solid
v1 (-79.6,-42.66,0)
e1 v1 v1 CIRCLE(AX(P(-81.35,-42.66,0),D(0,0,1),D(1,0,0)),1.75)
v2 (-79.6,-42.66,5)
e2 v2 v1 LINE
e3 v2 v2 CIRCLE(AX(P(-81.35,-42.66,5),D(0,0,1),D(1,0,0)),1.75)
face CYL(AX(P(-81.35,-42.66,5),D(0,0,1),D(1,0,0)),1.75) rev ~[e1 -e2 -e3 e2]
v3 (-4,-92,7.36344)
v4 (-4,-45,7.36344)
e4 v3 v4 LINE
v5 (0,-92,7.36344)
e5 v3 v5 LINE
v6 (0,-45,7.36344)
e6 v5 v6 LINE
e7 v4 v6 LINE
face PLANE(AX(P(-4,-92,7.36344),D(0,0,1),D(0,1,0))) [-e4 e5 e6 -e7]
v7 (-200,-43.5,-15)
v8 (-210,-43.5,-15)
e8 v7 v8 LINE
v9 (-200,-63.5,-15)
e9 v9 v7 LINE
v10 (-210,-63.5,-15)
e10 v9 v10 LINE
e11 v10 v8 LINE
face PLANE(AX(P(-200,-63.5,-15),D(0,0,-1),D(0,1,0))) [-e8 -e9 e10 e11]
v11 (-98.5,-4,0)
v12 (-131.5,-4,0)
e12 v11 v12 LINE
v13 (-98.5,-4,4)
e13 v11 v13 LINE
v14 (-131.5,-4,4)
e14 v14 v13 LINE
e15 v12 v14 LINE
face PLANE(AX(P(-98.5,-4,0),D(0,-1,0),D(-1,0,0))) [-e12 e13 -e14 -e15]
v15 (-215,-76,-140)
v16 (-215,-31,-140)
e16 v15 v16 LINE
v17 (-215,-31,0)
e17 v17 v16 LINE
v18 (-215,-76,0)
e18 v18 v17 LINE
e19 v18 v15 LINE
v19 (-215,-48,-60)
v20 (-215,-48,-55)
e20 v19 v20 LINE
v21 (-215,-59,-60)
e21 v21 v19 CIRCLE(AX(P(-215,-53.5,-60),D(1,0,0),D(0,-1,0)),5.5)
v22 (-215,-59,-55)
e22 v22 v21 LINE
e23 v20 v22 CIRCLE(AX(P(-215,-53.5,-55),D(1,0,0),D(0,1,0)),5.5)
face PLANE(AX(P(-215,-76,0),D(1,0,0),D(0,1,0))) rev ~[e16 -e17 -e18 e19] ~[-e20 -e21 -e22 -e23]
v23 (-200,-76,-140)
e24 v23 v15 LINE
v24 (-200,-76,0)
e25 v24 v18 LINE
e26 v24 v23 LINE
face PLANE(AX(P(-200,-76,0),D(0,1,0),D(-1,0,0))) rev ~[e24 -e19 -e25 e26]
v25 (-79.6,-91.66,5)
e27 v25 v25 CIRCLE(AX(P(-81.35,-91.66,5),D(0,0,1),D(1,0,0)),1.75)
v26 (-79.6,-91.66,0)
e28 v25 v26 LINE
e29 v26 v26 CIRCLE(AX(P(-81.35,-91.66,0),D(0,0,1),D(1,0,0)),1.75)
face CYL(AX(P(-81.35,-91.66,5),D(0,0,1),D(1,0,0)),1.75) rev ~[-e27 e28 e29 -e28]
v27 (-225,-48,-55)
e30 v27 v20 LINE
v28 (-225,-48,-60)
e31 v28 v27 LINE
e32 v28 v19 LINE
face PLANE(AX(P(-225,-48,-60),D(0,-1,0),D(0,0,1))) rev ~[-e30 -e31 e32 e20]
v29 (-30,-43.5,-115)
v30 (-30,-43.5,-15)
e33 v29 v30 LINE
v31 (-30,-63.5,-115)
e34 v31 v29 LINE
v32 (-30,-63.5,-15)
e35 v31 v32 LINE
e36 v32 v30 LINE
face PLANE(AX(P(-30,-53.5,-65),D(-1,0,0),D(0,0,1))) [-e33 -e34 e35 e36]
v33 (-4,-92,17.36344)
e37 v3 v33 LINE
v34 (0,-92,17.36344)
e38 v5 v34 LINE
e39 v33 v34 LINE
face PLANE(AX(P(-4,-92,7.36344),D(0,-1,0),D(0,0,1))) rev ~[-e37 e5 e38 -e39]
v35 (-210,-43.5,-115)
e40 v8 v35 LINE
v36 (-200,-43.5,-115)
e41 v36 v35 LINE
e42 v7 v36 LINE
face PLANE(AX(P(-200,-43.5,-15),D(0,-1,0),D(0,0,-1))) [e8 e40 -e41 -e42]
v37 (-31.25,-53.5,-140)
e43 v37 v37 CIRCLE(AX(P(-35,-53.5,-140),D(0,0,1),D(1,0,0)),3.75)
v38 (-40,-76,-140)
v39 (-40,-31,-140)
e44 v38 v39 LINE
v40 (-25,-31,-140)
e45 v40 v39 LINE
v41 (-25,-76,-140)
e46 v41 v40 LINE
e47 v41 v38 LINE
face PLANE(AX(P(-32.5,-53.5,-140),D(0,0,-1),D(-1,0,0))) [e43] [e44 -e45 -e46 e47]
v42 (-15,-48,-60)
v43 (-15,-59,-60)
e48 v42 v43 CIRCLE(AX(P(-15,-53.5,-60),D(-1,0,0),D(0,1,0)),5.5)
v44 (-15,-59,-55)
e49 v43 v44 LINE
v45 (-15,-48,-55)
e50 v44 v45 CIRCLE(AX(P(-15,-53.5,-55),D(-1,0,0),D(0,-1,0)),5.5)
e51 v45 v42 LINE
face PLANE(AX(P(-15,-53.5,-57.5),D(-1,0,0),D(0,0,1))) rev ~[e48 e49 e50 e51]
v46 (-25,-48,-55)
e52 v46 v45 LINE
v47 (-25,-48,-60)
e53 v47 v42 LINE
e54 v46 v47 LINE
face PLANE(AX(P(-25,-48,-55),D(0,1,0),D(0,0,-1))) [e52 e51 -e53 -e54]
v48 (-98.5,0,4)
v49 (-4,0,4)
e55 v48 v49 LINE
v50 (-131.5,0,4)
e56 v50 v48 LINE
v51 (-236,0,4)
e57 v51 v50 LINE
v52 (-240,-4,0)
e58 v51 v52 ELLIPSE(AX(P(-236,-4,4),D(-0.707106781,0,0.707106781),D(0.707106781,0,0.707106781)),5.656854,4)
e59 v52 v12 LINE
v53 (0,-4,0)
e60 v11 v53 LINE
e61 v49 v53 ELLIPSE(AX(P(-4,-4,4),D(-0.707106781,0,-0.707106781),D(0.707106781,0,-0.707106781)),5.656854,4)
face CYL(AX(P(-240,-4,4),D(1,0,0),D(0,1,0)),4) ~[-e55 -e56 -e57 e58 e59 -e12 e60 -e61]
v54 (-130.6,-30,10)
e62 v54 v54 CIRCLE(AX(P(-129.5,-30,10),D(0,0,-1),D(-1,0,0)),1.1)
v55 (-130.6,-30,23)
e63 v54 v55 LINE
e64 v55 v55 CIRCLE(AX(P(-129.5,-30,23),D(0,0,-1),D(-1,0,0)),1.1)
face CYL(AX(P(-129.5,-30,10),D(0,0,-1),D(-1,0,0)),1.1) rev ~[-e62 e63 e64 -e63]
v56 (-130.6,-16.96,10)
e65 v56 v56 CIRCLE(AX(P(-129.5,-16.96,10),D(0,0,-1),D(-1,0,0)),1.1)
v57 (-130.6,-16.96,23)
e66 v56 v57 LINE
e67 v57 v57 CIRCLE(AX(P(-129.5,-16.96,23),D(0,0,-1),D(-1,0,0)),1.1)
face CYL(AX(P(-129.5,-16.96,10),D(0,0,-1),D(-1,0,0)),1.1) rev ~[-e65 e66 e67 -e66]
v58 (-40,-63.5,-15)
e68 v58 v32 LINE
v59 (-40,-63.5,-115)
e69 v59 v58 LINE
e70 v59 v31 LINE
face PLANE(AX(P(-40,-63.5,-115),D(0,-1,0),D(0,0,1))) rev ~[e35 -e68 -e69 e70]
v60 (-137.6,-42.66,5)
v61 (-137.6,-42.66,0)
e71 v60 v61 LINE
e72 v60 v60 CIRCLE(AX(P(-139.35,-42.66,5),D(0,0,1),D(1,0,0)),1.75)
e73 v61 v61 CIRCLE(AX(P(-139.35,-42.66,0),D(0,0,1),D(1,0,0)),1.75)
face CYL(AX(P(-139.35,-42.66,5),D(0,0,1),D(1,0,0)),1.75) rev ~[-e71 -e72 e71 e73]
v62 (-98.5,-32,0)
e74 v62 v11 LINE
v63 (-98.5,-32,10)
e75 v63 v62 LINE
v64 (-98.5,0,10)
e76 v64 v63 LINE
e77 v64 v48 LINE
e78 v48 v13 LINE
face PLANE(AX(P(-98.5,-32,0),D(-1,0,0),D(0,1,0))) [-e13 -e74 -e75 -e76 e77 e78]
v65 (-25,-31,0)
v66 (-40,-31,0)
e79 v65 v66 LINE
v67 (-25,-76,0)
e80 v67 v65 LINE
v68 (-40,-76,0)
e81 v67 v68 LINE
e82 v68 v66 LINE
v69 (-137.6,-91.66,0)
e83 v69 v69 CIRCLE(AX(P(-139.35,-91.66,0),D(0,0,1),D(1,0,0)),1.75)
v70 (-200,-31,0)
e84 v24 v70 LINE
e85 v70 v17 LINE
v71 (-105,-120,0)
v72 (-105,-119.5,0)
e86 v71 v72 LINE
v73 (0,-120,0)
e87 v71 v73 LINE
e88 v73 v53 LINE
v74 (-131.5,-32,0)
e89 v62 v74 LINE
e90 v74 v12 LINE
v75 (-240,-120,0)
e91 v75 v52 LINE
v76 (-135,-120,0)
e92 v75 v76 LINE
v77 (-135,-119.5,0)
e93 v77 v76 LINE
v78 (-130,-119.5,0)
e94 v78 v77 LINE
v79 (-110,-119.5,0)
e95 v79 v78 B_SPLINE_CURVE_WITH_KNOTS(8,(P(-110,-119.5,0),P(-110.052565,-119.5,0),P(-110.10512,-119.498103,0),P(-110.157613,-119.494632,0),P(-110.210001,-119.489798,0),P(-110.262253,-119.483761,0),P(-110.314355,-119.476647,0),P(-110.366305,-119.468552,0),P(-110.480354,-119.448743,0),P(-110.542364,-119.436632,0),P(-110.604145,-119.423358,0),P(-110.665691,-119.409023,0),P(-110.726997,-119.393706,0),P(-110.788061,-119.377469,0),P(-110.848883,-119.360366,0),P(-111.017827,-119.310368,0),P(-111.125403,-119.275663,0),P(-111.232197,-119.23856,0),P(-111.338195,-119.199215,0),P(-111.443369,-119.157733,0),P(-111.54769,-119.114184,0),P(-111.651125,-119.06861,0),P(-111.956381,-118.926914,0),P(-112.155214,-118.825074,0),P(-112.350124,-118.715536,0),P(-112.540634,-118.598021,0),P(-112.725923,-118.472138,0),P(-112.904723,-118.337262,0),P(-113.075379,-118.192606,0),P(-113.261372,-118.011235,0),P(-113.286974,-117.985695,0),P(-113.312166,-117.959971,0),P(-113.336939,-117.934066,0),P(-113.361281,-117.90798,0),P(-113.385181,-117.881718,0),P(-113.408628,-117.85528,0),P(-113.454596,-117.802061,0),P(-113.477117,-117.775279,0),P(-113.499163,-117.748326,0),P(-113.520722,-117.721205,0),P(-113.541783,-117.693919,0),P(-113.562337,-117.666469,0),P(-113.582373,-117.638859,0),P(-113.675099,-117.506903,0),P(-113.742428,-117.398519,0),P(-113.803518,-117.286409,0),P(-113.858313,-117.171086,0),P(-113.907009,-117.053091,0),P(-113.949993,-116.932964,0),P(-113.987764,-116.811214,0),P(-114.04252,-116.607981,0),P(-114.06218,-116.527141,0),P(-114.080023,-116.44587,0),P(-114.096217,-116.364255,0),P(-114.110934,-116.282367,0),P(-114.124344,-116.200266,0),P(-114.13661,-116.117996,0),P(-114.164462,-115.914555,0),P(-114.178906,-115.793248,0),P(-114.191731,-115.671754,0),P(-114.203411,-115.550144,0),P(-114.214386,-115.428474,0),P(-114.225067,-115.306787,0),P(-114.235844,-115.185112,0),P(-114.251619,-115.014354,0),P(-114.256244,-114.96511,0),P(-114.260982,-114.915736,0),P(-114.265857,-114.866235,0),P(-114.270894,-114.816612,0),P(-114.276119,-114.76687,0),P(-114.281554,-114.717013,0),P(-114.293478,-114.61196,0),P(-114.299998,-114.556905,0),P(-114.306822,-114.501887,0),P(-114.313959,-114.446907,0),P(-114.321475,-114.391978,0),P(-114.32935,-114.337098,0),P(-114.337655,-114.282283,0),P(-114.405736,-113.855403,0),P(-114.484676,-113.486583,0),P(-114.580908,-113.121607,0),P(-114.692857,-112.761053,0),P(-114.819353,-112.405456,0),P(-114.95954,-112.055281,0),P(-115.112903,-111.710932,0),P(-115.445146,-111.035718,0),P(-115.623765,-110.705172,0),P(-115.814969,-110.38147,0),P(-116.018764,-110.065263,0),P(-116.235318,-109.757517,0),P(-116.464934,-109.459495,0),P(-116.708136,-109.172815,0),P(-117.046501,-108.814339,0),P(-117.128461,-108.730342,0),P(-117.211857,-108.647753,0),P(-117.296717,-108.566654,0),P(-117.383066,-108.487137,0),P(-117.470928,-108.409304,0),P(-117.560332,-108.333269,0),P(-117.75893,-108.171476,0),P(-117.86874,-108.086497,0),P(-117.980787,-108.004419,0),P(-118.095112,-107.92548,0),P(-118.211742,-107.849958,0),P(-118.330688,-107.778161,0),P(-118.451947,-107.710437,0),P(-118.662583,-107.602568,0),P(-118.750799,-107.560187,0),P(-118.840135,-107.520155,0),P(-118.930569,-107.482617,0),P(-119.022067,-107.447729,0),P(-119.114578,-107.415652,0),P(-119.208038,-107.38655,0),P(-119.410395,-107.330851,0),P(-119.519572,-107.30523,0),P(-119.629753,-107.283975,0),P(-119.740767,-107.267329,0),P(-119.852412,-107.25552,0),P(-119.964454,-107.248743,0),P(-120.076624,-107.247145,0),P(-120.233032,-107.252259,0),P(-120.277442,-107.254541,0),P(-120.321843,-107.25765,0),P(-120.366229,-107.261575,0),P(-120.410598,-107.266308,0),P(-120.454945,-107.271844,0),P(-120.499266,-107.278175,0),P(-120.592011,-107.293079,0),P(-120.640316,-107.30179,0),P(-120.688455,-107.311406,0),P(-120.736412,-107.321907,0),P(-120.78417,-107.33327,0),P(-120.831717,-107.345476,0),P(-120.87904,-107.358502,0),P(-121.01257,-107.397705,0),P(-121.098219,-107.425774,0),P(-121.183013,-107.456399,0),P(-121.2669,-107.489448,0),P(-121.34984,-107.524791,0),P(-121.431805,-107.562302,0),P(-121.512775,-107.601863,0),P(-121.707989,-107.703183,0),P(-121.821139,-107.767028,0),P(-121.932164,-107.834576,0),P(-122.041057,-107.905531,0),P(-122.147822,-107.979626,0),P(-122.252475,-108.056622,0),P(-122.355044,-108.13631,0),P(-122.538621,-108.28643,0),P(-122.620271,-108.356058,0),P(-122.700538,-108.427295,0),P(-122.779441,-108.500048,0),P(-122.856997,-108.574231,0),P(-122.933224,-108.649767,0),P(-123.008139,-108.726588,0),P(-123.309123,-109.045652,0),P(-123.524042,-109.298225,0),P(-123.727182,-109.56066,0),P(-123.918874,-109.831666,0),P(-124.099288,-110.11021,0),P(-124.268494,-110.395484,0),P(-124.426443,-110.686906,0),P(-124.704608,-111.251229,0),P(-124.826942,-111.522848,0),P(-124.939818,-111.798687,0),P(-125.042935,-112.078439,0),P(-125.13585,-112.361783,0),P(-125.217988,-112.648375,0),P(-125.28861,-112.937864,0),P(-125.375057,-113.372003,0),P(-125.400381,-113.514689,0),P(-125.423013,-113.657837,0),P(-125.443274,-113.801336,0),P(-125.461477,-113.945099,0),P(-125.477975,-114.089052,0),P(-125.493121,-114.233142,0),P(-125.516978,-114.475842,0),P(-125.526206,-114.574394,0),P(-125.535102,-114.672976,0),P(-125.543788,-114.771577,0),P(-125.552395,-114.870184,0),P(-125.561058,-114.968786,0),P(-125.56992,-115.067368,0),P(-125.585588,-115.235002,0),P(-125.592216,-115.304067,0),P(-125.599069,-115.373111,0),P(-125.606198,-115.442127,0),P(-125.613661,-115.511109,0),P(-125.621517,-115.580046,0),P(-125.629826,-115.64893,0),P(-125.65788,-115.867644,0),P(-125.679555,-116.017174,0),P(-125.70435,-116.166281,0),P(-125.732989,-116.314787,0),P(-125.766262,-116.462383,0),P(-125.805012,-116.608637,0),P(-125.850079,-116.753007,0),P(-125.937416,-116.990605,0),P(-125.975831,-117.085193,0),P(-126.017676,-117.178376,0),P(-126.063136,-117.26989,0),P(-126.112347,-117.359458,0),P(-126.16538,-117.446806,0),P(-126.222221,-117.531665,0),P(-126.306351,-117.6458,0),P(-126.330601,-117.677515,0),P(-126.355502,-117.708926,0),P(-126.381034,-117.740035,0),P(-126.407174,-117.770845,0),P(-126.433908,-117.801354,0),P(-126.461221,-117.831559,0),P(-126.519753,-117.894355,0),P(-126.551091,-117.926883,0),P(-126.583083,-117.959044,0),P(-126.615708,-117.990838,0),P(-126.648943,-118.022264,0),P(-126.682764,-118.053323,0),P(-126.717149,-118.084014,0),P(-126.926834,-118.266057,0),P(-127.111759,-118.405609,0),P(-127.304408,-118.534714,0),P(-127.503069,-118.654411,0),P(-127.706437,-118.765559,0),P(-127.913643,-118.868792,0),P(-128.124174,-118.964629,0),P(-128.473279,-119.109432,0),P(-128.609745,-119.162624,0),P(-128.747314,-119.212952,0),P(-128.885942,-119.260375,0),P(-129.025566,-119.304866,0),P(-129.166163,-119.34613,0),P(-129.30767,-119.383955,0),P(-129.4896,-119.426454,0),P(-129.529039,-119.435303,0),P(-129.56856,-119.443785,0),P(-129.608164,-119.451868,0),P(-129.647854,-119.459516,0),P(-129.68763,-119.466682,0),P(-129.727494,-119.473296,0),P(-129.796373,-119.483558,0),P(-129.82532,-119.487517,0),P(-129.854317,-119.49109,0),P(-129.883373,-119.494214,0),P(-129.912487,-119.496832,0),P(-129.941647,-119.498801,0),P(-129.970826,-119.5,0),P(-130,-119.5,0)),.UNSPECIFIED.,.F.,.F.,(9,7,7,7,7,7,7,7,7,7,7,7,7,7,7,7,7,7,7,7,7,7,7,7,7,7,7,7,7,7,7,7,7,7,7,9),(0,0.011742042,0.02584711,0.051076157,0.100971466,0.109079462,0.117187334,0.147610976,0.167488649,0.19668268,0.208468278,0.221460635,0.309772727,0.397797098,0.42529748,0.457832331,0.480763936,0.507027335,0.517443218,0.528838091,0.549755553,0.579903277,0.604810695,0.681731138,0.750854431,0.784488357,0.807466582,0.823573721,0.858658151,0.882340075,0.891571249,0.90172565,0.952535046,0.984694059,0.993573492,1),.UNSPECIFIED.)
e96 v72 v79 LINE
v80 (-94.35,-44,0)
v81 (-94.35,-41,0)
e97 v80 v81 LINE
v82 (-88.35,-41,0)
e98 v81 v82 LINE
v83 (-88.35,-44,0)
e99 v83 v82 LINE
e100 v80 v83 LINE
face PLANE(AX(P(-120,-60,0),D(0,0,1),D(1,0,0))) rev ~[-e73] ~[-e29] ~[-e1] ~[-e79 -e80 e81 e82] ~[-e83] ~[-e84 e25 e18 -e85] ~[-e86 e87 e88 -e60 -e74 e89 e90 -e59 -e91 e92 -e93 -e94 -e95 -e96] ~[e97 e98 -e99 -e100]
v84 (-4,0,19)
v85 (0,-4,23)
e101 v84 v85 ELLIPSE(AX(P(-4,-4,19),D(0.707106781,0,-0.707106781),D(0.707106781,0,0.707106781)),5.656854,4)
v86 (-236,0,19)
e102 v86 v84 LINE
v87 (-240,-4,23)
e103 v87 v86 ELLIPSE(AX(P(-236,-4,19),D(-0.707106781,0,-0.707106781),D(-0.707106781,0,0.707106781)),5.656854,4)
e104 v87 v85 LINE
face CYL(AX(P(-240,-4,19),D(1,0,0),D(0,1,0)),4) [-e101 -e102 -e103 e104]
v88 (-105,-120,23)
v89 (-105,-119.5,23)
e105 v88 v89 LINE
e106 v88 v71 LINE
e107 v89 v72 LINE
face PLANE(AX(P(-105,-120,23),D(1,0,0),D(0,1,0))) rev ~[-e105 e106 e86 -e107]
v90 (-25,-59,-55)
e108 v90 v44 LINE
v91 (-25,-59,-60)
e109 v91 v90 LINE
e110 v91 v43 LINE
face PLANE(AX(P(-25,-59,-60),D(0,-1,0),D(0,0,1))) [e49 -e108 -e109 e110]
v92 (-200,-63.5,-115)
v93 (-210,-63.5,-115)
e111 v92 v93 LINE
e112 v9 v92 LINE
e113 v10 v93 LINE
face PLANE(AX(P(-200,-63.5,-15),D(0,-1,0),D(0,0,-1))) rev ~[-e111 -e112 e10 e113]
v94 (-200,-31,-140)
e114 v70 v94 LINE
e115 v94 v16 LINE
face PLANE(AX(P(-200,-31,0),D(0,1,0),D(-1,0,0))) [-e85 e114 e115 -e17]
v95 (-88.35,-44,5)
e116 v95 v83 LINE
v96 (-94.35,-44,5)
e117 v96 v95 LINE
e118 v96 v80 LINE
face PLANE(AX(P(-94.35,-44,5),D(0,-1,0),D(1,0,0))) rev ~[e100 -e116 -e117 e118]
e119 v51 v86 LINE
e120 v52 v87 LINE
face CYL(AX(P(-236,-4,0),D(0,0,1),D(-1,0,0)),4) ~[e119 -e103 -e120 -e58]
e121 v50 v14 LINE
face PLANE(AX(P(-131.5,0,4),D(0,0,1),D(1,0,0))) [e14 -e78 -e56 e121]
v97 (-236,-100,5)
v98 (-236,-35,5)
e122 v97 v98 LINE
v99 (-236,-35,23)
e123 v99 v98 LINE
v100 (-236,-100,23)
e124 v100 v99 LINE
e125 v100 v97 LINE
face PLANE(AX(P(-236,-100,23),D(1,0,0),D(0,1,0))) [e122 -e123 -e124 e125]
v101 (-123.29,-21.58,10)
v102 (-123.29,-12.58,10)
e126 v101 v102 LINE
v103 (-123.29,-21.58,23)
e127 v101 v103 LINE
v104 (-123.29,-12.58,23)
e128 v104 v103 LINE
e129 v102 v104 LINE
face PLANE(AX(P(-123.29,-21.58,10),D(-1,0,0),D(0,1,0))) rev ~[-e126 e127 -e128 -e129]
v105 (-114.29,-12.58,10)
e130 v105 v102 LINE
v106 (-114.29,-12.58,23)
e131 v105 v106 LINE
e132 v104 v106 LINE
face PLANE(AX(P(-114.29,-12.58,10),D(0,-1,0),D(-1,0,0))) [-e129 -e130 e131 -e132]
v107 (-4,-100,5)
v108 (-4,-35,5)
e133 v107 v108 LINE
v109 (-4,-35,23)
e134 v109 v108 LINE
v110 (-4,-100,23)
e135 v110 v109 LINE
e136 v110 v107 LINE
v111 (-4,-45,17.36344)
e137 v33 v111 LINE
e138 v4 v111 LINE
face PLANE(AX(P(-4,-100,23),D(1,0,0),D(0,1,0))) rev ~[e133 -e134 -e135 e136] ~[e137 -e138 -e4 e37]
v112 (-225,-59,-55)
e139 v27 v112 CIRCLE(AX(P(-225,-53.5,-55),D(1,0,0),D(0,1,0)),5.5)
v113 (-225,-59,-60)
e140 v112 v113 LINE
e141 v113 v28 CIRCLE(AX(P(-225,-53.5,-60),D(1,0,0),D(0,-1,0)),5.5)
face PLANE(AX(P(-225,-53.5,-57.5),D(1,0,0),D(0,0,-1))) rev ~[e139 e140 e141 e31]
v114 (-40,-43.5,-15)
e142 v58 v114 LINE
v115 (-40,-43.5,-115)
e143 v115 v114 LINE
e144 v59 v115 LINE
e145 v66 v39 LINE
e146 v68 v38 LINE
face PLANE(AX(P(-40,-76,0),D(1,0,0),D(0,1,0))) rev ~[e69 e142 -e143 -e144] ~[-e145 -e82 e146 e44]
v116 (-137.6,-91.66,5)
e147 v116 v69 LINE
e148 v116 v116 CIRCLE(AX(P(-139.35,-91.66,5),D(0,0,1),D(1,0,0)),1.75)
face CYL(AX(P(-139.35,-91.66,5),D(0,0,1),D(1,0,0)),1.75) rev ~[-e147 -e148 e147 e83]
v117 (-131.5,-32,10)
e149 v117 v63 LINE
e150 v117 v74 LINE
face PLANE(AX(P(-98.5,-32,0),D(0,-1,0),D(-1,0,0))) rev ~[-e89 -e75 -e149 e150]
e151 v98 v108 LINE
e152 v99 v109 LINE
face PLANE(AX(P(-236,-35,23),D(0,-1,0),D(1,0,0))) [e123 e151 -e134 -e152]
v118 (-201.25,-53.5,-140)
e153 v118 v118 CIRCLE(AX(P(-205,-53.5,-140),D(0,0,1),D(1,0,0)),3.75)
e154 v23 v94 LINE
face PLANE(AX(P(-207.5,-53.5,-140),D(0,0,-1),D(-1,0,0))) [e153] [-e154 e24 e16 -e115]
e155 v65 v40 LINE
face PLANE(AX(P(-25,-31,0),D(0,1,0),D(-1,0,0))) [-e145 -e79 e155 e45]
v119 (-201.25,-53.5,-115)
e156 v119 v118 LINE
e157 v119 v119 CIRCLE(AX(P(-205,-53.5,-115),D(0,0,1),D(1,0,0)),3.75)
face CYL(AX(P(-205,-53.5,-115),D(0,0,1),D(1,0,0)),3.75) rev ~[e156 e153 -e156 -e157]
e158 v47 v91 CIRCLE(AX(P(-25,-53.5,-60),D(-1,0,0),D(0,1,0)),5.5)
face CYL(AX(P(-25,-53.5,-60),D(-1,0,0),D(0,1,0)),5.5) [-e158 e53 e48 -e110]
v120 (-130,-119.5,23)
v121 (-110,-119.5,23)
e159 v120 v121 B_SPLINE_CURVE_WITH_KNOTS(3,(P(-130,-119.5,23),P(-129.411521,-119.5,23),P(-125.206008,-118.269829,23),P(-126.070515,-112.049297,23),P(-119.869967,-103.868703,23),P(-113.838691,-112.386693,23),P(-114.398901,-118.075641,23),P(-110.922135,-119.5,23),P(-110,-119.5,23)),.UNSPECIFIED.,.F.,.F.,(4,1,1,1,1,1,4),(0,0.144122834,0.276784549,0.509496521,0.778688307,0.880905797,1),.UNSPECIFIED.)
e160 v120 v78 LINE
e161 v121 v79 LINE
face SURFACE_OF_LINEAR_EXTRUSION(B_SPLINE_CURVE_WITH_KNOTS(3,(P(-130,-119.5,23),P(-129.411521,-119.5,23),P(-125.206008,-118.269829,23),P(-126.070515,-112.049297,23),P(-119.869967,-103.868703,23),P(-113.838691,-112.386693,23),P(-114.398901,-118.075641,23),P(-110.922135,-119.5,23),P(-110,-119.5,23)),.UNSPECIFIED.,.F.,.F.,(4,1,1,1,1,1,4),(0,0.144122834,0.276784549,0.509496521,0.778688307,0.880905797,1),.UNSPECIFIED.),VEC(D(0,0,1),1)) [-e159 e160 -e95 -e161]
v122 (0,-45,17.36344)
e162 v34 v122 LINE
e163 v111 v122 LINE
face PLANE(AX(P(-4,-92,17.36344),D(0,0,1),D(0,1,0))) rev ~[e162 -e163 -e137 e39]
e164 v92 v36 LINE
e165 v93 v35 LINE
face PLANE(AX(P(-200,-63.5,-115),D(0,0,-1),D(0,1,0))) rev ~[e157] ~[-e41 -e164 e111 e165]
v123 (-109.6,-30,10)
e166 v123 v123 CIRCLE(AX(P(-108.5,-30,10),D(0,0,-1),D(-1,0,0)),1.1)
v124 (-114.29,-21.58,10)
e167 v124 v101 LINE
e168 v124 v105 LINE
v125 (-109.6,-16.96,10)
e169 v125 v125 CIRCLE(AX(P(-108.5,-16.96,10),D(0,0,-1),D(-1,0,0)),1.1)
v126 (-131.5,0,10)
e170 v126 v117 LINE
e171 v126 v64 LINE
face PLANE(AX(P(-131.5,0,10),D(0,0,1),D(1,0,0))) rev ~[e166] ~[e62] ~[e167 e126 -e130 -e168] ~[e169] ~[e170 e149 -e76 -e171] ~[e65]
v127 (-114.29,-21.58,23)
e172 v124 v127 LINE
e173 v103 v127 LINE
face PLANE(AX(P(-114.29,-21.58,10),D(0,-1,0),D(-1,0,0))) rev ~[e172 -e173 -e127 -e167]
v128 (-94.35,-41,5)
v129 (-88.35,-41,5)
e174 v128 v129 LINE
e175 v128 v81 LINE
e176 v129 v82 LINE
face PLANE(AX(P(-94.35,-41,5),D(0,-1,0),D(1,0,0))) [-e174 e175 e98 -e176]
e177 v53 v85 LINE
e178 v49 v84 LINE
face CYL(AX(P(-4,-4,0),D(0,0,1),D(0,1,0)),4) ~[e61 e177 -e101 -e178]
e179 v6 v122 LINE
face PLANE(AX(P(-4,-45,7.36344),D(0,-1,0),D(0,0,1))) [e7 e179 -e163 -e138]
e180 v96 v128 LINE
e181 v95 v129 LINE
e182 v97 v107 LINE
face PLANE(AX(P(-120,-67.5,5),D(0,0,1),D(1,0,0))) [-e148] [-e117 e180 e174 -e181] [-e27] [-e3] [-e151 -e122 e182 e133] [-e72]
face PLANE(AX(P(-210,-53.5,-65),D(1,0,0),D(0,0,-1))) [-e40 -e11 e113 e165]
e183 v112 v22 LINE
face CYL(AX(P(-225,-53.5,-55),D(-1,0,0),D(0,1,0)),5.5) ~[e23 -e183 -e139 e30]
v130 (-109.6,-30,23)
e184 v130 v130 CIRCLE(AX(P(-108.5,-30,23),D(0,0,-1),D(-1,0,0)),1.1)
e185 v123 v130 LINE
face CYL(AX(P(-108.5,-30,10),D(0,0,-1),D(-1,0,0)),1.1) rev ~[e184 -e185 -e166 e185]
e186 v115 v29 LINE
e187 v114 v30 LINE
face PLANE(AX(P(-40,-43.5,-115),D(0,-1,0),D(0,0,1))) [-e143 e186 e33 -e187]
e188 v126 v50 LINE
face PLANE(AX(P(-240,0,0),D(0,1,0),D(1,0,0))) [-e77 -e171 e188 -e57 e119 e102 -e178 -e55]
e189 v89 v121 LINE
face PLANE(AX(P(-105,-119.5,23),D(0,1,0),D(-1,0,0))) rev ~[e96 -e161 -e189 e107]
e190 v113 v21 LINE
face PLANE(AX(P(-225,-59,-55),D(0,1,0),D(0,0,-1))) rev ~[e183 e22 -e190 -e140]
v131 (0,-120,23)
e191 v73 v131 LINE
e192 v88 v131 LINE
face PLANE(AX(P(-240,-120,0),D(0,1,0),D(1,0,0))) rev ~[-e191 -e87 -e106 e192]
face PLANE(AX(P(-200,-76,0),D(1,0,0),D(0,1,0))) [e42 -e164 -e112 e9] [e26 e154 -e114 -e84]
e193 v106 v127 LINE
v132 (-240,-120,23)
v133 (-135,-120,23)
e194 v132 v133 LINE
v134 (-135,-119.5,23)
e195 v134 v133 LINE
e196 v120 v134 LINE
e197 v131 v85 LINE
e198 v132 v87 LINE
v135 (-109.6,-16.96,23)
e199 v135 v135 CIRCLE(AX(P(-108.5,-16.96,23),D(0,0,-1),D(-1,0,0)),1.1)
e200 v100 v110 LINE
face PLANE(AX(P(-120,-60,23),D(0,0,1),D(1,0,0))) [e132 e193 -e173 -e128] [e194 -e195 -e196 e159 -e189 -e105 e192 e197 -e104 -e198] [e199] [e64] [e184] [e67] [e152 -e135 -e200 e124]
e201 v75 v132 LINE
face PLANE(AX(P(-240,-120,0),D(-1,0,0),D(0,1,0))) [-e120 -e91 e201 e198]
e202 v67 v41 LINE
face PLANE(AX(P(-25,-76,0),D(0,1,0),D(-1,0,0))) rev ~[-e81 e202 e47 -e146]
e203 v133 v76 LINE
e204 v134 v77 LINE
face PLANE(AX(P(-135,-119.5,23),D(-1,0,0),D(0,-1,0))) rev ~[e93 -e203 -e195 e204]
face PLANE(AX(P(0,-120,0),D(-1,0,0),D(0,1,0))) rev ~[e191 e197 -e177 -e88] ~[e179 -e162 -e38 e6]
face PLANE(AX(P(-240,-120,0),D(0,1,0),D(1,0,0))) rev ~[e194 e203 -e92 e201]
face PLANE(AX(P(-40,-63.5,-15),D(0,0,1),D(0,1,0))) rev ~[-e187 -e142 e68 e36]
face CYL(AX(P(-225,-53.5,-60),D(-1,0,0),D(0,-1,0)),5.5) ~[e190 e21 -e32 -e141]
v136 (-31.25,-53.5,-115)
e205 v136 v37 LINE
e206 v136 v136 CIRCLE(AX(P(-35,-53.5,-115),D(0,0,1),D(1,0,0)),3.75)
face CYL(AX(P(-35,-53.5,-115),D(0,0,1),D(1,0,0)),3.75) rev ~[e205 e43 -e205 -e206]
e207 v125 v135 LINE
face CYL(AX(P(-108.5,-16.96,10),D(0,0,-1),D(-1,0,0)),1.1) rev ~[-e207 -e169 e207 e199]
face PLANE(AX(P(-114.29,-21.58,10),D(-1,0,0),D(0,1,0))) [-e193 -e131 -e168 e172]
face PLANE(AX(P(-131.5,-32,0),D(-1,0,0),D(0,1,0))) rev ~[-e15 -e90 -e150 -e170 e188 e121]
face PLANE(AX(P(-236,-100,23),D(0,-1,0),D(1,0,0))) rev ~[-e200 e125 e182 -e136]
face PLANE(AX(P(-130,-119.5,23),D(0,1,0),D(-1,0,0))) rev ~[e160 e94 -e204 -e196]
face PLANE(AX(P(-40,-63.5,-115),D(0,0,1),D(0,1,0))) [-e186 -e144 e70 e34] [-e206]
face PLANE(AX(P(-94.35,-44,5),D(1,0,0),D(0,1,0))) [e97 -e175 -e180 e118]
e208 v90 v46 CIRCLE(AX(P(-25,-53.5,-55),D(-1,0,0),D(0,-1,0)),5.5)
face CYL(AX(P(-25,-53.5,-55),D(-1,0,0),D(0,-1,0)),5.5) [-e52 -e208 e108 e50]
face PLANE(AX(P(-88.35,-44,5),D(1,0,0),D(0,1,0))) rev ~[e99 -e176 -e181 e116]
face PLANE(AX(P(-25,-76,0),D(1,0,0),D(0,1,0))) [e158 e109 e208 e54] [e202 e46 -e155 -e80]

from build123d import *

# Parameters (mm, degrees)
ESQUISSE1_W              = 240
ESQUISSE1_H              = 120
BOSS_EXTRU_1_DEPTH       = 23
ESQUISSE2_W              = 232
ESQUISSE2_H              = 65
ENL_V_MAT_EXTRU_1_DEPTH  = 18
CONG_1_R                 = 4
ESQUISSE7_R              = 1.75
ENL_V_MAT_EXTRU_3_DEPTH  = 10
ESQUISSE14_W             = 10
ESQUISSE14_H             = 47
ENL_V_MAT_EXTRU_9_DEPTH  = 43
ESQUISSE17_W             = 33
ESQUISSE17_H             = 6
ENL_V_MAT_EXTRU_11_DEPTH = 32
ESQUISSE18_W             = 33
ESQUISSE18_H             = 28
ENL_V_MAT_EXTRU_12_DEPTH = 7
ESQUISSE19_W             = 15
ESQUISSE19_H             = 45
BOSS_EXTRU_2_DEPTH       = 140
ESQUISSE20_W             = 100
ESQUISSE20_H             = 20
ENL_V_MAT_EXTRU_13_DEPTH = 10
ESQUISSE21_R             = 3.75
ENL_V_MAT_EXTRU_14_DEPTH = 40
ESQUISSE22_W             = 100
ESQUISSE22_H             = 20
ENL_V_MAT_EXTRU_15_DEPTH = 10
ESQUISSE23_R             = 3.75
ENL_V_MAT_EXTRU_16_DEPTH = 40
BOSS_EXTRU_3_DEPTH       = 10
BOSS_EXTRU_4_START       = 10
BOSS_EXTRU_4_DEPTH       = 10
ESQUISSE30_R             = 1.1
ESQUISSE30_W             = 9
ESQUISSE30_H             = 9
ENL_V_MAT_EXTRU_22_DEPTH = 30
ESQUISSE31_W             = 6
ESQUISSE31_H             = 3
ENL_V_MAT_EXTRU_23_DEPTH = 10
ENL_V_MAT_EXTRU_24_DEPTH = 40


with BuildPart() as part:
    # Esquisse1 → Boss.-Extru.1 (new body)
    with BuildSketch(Plane.XY):
        with Locations((-120, -60)):
            Rectangle(ESQUISSE1_W, ESQUISSE1_H)
    extrude(amount=BOSS_EXTRU_1_DEPTH)

    # Esquisse2 → Enlèv. mat.-Extru.1 (cut)
    with BuildSketch(Plane.XY.offset(23)):
        with Locations((-120, -67.5)):
            Rectangle(ESQUISSE2_W, ESQUISSE2_H)
    extrude(amount=-ENL_V_MAT_EXTRU_1_DEPTH, mode=Mode.SUBTRACT)

    # Congé1
    cong_1_edges = [part.edges().sort_by_distance(p)[0] for p in [
        (-120, 0, 0),
        (-240, 0, 11.5),
        (0, 0, 11.5),
        (-120, 0, 23),
    ]]
    fillet(cong_1_edges, radius=CONG_1_R)

    # Esquisse7 → Enlèv. mat.-Extru.3 (cut)
    with BuildSketch(Plane.XY.offset(5)):
        with Locations((-139.35, -42.66)):
            Circle(ESQUISSE7_R)
        with Locations((-139.35, -91.66)):
            Circle(ESQUISSE7_R)
        with Locations((-81.35, -91.66)):
            Circle(ESQUISSE7_R)
        with Locations((-81.35, -42.66)):
            Circle(ESQUISSE7_R)
    extrude(amount=-ENL_V_MAT_EXTRU_3_DEPTH, mode=Mode.SUBTRACT)

    # Esquisse14 → Enlèv. mat.-Extru.9 (cut)
    with BuildSketch(Plane.ZY.offset(4)):
        with Locations((12.363440201, -68.5)):
            Rectangle(ESQUISSE14_W, ESQUISSE14_H)
    extrude(amount=-ENL_V_MAT_EXTRU_9_DEPTH, mode=Mode.SUBTRACT)

    # Esquisse17 → Enlèv. mat.-Extru.11 (cut)
    with BuildSketch(Plane(origin=(0, 0, 0), x_dir=(1, 0, 0), z_dir=(0, 1, 0))):
        with Locations((-115, -7)):
            Rectangle(ESQUISSE17_W, ESQUISSE17_H)
    extrude(amount=-ENL_V_MAT_EXTRU_11_DEPTH, mode=Mode.SUBTRACT)

    # Esquisse18 → Enlèv. mat.-Extru.12 (cut)
    with BuildSketch(Plane(origin=(0, 0, 0), x_dir=(-1, 0, 0), z_dir=(0, 0, -1))):
        with Locations((115, -18)):
            Rectangle(ESQUISSE18_W, ESQUISSE18_H)
    extrude(amount=-ENL_V_MAT_EXTRU_12_DEPTH, mode=Mode.SUBTRACT)

    # Esquisse19 → Boss.-Extru.2 (add)
    with BuildSketch(Plane(origin=(0, 0, 0), x_dir=(-1, 0, 0), z_dir=(0, 0, -1))):
        with Locations((32.5, -53.5)):
            Rectangle(ESQUISSE19_W, ESQUISSE19_H)
        with Locations((207.5, -53.5)):
            Rectangle(ESQUISSE19_W, ESQUISSE19_H)
    extrude(amount=BOSS_EXTRU_2_DEPTH)

    # Esquisse20 → Enlèv. mat.-Extru.13 (cut)
    with BuildSketch(Plane.ZY.offset(40)):
        with Locations((-65, -53.5)):
            Rectangle(ESQUISSE20_W, ESQUISSE20_H)
    extrude(amount=-ENL_V_MAT_EXTRU_13_DEPTH, mode=Mode.SUBTRACT)

    # Esquisse21 → Enlèv. mat.-Extru.14 (cut)
    with BuildSketch(Plane.XY.offset(-115)):
        with Locations((-35, -53.5)):
            Circle(ESQUISSE21_R)
    extrude(amount=-ENL_V_MAT_EXTRU_14_DEPTH, mode=Mode.SUBTRACT)

    # Esquisse22 → Enlèv. mat.-Extru.15 (cut)
    with BuildSketch(Plane(origin=(-200, 0, 0), x_dir=(0, 0, -1), z_dir=(1, 0, 0))):
        with Locations((65, -53.5)):
            Rectangle(ESQUISSE22_W, ESQUISSE22_H)
    extrude(amount=-ENL_V_MAT_EXTRU_15_DEPTH, mode=Mode.SUBTRACT)

    # Esquisse23 → Enlèv. mat.-Extru.16 (cut)
    with BuildSketch(Plane.XY.offset(-115)):
        with Locations((-205, -53.5)):
            Circle(ESQUISSE23_R)
    extrude(amount=-ENL_V_MAT_EXTRU_16_DEPTH, mode=Mode.SUBTRACT)

    # Esquisse25 → Boss.-Extru.3 (add)
    with BuildSketch(Plane(origin=(-25, 0, 0), x_dir=(0, 0, -1), z_dir=(1, 0, 0))):
        with BuildLine():
            Line((55, -48), (60, -48))
            ThreePointArc((60, -48), (65.5, -53.5), (60, -59))
            Line((60, -59), (55, -59))
            ThreePointArc((55, -59), (49.5, -53.5), (55, -48))
        make_face()
    extrude(amount=BOSS_EXTRU_3_DEPTH)

    # Esquisse26 → Boss.-Extru.4 (add)
    with BuildSketch(Plane.ZY.offset(215).offset(BOSS_EXTRU_4_START)):
        with BuildLine():
            Line((-60, -48), (-55, -48))
            ThreePointArc((-55, -48), (-49.5, -53.5), (-55, -59))
            Line((-55, -59), (-60, -59))
            ThreePointArc((-60, -59), (-65.5, -53.5), (-60, -48))
        make_face()
    extrude(amount=-BOSS_EXTRU_4_DEPTH)

    # Esquisse30 → Enlèv. mat.-Extru.22 (cut)
    with BuildSketch(Plane(origin=(0, 0, 10), x_dir=(-1, 0, 0), z_dir=(0, 0, -1))):
        with Locations((108.5, -30)):
            Circle(ESQUISSE30_R)
        with Locations((129.5, -30)):
            Circle(ESQUISSE30_R)
        with Locations((129.5, -16.96)):
            Circle(ESQUISSE30_R)
        with Locations((108.5, -16.96)):
            Circle(ESQUISSE30_R)
        with Locations((118.79, -17.08)):
            Rectangle(ESQUISSE30_W, ESQUISSE30_H)
    extrude(amount=-ENL_V_MAT_EXTRU_22_DEPTH, mode=Mode.SUBTRACT)

    # Esquisse31 → Enlèv. mat.-Extru.23 (cut)
    with BuildSketch(Plane.XY.offset(5)):
        with Locations((-91.35, -42.5)):
            Rectangle(ESQUISSE31_W, ESQUISSE31_H)
    extrude(amount=-ENL_V_MAT_EXTRU_23_DEPTH, mode=Mode.SUBTRACT)

    # Esquisse32 → Enlèv. mat.-Extru.24 (cut)
    with BuildSketch(Plane.XY.offset(23)):
        with BuildLine():
            Line((-135, -119.5), (-135, -120))
            Line((-135, -120), (-105, -120))
            Line((-105, -120), (-105, -119.5))
            Line((-105, -119.5), (-110, -119.5))
            add(Edge.make_bspline(
                [(-130, -119.5), (-129.411520636, -119.5), (-125.206007881, -118.2698291), (-126.070515277, -112.049296748), (-119.869966777, -103.868703164), (-113.838690693, -112.386692695), (-114.398901471, -118.075641111), (-110.922134696, -119.5), (-110, -119.5)],
                knots=[0, 0, 0, 0, 0.144122834, 0.276784549, 0.509496521, 0.778688307, 0.880905797, 1, 1, 1, 1], degree=3))
            Line((-130, -119.5), (-135, -119.5))
        make_face()
    extrude(amount=-ENL_V_MAT_EXTRU_24_DEPTH, mode=Mode.SUBTRACT)


solid = part.part
